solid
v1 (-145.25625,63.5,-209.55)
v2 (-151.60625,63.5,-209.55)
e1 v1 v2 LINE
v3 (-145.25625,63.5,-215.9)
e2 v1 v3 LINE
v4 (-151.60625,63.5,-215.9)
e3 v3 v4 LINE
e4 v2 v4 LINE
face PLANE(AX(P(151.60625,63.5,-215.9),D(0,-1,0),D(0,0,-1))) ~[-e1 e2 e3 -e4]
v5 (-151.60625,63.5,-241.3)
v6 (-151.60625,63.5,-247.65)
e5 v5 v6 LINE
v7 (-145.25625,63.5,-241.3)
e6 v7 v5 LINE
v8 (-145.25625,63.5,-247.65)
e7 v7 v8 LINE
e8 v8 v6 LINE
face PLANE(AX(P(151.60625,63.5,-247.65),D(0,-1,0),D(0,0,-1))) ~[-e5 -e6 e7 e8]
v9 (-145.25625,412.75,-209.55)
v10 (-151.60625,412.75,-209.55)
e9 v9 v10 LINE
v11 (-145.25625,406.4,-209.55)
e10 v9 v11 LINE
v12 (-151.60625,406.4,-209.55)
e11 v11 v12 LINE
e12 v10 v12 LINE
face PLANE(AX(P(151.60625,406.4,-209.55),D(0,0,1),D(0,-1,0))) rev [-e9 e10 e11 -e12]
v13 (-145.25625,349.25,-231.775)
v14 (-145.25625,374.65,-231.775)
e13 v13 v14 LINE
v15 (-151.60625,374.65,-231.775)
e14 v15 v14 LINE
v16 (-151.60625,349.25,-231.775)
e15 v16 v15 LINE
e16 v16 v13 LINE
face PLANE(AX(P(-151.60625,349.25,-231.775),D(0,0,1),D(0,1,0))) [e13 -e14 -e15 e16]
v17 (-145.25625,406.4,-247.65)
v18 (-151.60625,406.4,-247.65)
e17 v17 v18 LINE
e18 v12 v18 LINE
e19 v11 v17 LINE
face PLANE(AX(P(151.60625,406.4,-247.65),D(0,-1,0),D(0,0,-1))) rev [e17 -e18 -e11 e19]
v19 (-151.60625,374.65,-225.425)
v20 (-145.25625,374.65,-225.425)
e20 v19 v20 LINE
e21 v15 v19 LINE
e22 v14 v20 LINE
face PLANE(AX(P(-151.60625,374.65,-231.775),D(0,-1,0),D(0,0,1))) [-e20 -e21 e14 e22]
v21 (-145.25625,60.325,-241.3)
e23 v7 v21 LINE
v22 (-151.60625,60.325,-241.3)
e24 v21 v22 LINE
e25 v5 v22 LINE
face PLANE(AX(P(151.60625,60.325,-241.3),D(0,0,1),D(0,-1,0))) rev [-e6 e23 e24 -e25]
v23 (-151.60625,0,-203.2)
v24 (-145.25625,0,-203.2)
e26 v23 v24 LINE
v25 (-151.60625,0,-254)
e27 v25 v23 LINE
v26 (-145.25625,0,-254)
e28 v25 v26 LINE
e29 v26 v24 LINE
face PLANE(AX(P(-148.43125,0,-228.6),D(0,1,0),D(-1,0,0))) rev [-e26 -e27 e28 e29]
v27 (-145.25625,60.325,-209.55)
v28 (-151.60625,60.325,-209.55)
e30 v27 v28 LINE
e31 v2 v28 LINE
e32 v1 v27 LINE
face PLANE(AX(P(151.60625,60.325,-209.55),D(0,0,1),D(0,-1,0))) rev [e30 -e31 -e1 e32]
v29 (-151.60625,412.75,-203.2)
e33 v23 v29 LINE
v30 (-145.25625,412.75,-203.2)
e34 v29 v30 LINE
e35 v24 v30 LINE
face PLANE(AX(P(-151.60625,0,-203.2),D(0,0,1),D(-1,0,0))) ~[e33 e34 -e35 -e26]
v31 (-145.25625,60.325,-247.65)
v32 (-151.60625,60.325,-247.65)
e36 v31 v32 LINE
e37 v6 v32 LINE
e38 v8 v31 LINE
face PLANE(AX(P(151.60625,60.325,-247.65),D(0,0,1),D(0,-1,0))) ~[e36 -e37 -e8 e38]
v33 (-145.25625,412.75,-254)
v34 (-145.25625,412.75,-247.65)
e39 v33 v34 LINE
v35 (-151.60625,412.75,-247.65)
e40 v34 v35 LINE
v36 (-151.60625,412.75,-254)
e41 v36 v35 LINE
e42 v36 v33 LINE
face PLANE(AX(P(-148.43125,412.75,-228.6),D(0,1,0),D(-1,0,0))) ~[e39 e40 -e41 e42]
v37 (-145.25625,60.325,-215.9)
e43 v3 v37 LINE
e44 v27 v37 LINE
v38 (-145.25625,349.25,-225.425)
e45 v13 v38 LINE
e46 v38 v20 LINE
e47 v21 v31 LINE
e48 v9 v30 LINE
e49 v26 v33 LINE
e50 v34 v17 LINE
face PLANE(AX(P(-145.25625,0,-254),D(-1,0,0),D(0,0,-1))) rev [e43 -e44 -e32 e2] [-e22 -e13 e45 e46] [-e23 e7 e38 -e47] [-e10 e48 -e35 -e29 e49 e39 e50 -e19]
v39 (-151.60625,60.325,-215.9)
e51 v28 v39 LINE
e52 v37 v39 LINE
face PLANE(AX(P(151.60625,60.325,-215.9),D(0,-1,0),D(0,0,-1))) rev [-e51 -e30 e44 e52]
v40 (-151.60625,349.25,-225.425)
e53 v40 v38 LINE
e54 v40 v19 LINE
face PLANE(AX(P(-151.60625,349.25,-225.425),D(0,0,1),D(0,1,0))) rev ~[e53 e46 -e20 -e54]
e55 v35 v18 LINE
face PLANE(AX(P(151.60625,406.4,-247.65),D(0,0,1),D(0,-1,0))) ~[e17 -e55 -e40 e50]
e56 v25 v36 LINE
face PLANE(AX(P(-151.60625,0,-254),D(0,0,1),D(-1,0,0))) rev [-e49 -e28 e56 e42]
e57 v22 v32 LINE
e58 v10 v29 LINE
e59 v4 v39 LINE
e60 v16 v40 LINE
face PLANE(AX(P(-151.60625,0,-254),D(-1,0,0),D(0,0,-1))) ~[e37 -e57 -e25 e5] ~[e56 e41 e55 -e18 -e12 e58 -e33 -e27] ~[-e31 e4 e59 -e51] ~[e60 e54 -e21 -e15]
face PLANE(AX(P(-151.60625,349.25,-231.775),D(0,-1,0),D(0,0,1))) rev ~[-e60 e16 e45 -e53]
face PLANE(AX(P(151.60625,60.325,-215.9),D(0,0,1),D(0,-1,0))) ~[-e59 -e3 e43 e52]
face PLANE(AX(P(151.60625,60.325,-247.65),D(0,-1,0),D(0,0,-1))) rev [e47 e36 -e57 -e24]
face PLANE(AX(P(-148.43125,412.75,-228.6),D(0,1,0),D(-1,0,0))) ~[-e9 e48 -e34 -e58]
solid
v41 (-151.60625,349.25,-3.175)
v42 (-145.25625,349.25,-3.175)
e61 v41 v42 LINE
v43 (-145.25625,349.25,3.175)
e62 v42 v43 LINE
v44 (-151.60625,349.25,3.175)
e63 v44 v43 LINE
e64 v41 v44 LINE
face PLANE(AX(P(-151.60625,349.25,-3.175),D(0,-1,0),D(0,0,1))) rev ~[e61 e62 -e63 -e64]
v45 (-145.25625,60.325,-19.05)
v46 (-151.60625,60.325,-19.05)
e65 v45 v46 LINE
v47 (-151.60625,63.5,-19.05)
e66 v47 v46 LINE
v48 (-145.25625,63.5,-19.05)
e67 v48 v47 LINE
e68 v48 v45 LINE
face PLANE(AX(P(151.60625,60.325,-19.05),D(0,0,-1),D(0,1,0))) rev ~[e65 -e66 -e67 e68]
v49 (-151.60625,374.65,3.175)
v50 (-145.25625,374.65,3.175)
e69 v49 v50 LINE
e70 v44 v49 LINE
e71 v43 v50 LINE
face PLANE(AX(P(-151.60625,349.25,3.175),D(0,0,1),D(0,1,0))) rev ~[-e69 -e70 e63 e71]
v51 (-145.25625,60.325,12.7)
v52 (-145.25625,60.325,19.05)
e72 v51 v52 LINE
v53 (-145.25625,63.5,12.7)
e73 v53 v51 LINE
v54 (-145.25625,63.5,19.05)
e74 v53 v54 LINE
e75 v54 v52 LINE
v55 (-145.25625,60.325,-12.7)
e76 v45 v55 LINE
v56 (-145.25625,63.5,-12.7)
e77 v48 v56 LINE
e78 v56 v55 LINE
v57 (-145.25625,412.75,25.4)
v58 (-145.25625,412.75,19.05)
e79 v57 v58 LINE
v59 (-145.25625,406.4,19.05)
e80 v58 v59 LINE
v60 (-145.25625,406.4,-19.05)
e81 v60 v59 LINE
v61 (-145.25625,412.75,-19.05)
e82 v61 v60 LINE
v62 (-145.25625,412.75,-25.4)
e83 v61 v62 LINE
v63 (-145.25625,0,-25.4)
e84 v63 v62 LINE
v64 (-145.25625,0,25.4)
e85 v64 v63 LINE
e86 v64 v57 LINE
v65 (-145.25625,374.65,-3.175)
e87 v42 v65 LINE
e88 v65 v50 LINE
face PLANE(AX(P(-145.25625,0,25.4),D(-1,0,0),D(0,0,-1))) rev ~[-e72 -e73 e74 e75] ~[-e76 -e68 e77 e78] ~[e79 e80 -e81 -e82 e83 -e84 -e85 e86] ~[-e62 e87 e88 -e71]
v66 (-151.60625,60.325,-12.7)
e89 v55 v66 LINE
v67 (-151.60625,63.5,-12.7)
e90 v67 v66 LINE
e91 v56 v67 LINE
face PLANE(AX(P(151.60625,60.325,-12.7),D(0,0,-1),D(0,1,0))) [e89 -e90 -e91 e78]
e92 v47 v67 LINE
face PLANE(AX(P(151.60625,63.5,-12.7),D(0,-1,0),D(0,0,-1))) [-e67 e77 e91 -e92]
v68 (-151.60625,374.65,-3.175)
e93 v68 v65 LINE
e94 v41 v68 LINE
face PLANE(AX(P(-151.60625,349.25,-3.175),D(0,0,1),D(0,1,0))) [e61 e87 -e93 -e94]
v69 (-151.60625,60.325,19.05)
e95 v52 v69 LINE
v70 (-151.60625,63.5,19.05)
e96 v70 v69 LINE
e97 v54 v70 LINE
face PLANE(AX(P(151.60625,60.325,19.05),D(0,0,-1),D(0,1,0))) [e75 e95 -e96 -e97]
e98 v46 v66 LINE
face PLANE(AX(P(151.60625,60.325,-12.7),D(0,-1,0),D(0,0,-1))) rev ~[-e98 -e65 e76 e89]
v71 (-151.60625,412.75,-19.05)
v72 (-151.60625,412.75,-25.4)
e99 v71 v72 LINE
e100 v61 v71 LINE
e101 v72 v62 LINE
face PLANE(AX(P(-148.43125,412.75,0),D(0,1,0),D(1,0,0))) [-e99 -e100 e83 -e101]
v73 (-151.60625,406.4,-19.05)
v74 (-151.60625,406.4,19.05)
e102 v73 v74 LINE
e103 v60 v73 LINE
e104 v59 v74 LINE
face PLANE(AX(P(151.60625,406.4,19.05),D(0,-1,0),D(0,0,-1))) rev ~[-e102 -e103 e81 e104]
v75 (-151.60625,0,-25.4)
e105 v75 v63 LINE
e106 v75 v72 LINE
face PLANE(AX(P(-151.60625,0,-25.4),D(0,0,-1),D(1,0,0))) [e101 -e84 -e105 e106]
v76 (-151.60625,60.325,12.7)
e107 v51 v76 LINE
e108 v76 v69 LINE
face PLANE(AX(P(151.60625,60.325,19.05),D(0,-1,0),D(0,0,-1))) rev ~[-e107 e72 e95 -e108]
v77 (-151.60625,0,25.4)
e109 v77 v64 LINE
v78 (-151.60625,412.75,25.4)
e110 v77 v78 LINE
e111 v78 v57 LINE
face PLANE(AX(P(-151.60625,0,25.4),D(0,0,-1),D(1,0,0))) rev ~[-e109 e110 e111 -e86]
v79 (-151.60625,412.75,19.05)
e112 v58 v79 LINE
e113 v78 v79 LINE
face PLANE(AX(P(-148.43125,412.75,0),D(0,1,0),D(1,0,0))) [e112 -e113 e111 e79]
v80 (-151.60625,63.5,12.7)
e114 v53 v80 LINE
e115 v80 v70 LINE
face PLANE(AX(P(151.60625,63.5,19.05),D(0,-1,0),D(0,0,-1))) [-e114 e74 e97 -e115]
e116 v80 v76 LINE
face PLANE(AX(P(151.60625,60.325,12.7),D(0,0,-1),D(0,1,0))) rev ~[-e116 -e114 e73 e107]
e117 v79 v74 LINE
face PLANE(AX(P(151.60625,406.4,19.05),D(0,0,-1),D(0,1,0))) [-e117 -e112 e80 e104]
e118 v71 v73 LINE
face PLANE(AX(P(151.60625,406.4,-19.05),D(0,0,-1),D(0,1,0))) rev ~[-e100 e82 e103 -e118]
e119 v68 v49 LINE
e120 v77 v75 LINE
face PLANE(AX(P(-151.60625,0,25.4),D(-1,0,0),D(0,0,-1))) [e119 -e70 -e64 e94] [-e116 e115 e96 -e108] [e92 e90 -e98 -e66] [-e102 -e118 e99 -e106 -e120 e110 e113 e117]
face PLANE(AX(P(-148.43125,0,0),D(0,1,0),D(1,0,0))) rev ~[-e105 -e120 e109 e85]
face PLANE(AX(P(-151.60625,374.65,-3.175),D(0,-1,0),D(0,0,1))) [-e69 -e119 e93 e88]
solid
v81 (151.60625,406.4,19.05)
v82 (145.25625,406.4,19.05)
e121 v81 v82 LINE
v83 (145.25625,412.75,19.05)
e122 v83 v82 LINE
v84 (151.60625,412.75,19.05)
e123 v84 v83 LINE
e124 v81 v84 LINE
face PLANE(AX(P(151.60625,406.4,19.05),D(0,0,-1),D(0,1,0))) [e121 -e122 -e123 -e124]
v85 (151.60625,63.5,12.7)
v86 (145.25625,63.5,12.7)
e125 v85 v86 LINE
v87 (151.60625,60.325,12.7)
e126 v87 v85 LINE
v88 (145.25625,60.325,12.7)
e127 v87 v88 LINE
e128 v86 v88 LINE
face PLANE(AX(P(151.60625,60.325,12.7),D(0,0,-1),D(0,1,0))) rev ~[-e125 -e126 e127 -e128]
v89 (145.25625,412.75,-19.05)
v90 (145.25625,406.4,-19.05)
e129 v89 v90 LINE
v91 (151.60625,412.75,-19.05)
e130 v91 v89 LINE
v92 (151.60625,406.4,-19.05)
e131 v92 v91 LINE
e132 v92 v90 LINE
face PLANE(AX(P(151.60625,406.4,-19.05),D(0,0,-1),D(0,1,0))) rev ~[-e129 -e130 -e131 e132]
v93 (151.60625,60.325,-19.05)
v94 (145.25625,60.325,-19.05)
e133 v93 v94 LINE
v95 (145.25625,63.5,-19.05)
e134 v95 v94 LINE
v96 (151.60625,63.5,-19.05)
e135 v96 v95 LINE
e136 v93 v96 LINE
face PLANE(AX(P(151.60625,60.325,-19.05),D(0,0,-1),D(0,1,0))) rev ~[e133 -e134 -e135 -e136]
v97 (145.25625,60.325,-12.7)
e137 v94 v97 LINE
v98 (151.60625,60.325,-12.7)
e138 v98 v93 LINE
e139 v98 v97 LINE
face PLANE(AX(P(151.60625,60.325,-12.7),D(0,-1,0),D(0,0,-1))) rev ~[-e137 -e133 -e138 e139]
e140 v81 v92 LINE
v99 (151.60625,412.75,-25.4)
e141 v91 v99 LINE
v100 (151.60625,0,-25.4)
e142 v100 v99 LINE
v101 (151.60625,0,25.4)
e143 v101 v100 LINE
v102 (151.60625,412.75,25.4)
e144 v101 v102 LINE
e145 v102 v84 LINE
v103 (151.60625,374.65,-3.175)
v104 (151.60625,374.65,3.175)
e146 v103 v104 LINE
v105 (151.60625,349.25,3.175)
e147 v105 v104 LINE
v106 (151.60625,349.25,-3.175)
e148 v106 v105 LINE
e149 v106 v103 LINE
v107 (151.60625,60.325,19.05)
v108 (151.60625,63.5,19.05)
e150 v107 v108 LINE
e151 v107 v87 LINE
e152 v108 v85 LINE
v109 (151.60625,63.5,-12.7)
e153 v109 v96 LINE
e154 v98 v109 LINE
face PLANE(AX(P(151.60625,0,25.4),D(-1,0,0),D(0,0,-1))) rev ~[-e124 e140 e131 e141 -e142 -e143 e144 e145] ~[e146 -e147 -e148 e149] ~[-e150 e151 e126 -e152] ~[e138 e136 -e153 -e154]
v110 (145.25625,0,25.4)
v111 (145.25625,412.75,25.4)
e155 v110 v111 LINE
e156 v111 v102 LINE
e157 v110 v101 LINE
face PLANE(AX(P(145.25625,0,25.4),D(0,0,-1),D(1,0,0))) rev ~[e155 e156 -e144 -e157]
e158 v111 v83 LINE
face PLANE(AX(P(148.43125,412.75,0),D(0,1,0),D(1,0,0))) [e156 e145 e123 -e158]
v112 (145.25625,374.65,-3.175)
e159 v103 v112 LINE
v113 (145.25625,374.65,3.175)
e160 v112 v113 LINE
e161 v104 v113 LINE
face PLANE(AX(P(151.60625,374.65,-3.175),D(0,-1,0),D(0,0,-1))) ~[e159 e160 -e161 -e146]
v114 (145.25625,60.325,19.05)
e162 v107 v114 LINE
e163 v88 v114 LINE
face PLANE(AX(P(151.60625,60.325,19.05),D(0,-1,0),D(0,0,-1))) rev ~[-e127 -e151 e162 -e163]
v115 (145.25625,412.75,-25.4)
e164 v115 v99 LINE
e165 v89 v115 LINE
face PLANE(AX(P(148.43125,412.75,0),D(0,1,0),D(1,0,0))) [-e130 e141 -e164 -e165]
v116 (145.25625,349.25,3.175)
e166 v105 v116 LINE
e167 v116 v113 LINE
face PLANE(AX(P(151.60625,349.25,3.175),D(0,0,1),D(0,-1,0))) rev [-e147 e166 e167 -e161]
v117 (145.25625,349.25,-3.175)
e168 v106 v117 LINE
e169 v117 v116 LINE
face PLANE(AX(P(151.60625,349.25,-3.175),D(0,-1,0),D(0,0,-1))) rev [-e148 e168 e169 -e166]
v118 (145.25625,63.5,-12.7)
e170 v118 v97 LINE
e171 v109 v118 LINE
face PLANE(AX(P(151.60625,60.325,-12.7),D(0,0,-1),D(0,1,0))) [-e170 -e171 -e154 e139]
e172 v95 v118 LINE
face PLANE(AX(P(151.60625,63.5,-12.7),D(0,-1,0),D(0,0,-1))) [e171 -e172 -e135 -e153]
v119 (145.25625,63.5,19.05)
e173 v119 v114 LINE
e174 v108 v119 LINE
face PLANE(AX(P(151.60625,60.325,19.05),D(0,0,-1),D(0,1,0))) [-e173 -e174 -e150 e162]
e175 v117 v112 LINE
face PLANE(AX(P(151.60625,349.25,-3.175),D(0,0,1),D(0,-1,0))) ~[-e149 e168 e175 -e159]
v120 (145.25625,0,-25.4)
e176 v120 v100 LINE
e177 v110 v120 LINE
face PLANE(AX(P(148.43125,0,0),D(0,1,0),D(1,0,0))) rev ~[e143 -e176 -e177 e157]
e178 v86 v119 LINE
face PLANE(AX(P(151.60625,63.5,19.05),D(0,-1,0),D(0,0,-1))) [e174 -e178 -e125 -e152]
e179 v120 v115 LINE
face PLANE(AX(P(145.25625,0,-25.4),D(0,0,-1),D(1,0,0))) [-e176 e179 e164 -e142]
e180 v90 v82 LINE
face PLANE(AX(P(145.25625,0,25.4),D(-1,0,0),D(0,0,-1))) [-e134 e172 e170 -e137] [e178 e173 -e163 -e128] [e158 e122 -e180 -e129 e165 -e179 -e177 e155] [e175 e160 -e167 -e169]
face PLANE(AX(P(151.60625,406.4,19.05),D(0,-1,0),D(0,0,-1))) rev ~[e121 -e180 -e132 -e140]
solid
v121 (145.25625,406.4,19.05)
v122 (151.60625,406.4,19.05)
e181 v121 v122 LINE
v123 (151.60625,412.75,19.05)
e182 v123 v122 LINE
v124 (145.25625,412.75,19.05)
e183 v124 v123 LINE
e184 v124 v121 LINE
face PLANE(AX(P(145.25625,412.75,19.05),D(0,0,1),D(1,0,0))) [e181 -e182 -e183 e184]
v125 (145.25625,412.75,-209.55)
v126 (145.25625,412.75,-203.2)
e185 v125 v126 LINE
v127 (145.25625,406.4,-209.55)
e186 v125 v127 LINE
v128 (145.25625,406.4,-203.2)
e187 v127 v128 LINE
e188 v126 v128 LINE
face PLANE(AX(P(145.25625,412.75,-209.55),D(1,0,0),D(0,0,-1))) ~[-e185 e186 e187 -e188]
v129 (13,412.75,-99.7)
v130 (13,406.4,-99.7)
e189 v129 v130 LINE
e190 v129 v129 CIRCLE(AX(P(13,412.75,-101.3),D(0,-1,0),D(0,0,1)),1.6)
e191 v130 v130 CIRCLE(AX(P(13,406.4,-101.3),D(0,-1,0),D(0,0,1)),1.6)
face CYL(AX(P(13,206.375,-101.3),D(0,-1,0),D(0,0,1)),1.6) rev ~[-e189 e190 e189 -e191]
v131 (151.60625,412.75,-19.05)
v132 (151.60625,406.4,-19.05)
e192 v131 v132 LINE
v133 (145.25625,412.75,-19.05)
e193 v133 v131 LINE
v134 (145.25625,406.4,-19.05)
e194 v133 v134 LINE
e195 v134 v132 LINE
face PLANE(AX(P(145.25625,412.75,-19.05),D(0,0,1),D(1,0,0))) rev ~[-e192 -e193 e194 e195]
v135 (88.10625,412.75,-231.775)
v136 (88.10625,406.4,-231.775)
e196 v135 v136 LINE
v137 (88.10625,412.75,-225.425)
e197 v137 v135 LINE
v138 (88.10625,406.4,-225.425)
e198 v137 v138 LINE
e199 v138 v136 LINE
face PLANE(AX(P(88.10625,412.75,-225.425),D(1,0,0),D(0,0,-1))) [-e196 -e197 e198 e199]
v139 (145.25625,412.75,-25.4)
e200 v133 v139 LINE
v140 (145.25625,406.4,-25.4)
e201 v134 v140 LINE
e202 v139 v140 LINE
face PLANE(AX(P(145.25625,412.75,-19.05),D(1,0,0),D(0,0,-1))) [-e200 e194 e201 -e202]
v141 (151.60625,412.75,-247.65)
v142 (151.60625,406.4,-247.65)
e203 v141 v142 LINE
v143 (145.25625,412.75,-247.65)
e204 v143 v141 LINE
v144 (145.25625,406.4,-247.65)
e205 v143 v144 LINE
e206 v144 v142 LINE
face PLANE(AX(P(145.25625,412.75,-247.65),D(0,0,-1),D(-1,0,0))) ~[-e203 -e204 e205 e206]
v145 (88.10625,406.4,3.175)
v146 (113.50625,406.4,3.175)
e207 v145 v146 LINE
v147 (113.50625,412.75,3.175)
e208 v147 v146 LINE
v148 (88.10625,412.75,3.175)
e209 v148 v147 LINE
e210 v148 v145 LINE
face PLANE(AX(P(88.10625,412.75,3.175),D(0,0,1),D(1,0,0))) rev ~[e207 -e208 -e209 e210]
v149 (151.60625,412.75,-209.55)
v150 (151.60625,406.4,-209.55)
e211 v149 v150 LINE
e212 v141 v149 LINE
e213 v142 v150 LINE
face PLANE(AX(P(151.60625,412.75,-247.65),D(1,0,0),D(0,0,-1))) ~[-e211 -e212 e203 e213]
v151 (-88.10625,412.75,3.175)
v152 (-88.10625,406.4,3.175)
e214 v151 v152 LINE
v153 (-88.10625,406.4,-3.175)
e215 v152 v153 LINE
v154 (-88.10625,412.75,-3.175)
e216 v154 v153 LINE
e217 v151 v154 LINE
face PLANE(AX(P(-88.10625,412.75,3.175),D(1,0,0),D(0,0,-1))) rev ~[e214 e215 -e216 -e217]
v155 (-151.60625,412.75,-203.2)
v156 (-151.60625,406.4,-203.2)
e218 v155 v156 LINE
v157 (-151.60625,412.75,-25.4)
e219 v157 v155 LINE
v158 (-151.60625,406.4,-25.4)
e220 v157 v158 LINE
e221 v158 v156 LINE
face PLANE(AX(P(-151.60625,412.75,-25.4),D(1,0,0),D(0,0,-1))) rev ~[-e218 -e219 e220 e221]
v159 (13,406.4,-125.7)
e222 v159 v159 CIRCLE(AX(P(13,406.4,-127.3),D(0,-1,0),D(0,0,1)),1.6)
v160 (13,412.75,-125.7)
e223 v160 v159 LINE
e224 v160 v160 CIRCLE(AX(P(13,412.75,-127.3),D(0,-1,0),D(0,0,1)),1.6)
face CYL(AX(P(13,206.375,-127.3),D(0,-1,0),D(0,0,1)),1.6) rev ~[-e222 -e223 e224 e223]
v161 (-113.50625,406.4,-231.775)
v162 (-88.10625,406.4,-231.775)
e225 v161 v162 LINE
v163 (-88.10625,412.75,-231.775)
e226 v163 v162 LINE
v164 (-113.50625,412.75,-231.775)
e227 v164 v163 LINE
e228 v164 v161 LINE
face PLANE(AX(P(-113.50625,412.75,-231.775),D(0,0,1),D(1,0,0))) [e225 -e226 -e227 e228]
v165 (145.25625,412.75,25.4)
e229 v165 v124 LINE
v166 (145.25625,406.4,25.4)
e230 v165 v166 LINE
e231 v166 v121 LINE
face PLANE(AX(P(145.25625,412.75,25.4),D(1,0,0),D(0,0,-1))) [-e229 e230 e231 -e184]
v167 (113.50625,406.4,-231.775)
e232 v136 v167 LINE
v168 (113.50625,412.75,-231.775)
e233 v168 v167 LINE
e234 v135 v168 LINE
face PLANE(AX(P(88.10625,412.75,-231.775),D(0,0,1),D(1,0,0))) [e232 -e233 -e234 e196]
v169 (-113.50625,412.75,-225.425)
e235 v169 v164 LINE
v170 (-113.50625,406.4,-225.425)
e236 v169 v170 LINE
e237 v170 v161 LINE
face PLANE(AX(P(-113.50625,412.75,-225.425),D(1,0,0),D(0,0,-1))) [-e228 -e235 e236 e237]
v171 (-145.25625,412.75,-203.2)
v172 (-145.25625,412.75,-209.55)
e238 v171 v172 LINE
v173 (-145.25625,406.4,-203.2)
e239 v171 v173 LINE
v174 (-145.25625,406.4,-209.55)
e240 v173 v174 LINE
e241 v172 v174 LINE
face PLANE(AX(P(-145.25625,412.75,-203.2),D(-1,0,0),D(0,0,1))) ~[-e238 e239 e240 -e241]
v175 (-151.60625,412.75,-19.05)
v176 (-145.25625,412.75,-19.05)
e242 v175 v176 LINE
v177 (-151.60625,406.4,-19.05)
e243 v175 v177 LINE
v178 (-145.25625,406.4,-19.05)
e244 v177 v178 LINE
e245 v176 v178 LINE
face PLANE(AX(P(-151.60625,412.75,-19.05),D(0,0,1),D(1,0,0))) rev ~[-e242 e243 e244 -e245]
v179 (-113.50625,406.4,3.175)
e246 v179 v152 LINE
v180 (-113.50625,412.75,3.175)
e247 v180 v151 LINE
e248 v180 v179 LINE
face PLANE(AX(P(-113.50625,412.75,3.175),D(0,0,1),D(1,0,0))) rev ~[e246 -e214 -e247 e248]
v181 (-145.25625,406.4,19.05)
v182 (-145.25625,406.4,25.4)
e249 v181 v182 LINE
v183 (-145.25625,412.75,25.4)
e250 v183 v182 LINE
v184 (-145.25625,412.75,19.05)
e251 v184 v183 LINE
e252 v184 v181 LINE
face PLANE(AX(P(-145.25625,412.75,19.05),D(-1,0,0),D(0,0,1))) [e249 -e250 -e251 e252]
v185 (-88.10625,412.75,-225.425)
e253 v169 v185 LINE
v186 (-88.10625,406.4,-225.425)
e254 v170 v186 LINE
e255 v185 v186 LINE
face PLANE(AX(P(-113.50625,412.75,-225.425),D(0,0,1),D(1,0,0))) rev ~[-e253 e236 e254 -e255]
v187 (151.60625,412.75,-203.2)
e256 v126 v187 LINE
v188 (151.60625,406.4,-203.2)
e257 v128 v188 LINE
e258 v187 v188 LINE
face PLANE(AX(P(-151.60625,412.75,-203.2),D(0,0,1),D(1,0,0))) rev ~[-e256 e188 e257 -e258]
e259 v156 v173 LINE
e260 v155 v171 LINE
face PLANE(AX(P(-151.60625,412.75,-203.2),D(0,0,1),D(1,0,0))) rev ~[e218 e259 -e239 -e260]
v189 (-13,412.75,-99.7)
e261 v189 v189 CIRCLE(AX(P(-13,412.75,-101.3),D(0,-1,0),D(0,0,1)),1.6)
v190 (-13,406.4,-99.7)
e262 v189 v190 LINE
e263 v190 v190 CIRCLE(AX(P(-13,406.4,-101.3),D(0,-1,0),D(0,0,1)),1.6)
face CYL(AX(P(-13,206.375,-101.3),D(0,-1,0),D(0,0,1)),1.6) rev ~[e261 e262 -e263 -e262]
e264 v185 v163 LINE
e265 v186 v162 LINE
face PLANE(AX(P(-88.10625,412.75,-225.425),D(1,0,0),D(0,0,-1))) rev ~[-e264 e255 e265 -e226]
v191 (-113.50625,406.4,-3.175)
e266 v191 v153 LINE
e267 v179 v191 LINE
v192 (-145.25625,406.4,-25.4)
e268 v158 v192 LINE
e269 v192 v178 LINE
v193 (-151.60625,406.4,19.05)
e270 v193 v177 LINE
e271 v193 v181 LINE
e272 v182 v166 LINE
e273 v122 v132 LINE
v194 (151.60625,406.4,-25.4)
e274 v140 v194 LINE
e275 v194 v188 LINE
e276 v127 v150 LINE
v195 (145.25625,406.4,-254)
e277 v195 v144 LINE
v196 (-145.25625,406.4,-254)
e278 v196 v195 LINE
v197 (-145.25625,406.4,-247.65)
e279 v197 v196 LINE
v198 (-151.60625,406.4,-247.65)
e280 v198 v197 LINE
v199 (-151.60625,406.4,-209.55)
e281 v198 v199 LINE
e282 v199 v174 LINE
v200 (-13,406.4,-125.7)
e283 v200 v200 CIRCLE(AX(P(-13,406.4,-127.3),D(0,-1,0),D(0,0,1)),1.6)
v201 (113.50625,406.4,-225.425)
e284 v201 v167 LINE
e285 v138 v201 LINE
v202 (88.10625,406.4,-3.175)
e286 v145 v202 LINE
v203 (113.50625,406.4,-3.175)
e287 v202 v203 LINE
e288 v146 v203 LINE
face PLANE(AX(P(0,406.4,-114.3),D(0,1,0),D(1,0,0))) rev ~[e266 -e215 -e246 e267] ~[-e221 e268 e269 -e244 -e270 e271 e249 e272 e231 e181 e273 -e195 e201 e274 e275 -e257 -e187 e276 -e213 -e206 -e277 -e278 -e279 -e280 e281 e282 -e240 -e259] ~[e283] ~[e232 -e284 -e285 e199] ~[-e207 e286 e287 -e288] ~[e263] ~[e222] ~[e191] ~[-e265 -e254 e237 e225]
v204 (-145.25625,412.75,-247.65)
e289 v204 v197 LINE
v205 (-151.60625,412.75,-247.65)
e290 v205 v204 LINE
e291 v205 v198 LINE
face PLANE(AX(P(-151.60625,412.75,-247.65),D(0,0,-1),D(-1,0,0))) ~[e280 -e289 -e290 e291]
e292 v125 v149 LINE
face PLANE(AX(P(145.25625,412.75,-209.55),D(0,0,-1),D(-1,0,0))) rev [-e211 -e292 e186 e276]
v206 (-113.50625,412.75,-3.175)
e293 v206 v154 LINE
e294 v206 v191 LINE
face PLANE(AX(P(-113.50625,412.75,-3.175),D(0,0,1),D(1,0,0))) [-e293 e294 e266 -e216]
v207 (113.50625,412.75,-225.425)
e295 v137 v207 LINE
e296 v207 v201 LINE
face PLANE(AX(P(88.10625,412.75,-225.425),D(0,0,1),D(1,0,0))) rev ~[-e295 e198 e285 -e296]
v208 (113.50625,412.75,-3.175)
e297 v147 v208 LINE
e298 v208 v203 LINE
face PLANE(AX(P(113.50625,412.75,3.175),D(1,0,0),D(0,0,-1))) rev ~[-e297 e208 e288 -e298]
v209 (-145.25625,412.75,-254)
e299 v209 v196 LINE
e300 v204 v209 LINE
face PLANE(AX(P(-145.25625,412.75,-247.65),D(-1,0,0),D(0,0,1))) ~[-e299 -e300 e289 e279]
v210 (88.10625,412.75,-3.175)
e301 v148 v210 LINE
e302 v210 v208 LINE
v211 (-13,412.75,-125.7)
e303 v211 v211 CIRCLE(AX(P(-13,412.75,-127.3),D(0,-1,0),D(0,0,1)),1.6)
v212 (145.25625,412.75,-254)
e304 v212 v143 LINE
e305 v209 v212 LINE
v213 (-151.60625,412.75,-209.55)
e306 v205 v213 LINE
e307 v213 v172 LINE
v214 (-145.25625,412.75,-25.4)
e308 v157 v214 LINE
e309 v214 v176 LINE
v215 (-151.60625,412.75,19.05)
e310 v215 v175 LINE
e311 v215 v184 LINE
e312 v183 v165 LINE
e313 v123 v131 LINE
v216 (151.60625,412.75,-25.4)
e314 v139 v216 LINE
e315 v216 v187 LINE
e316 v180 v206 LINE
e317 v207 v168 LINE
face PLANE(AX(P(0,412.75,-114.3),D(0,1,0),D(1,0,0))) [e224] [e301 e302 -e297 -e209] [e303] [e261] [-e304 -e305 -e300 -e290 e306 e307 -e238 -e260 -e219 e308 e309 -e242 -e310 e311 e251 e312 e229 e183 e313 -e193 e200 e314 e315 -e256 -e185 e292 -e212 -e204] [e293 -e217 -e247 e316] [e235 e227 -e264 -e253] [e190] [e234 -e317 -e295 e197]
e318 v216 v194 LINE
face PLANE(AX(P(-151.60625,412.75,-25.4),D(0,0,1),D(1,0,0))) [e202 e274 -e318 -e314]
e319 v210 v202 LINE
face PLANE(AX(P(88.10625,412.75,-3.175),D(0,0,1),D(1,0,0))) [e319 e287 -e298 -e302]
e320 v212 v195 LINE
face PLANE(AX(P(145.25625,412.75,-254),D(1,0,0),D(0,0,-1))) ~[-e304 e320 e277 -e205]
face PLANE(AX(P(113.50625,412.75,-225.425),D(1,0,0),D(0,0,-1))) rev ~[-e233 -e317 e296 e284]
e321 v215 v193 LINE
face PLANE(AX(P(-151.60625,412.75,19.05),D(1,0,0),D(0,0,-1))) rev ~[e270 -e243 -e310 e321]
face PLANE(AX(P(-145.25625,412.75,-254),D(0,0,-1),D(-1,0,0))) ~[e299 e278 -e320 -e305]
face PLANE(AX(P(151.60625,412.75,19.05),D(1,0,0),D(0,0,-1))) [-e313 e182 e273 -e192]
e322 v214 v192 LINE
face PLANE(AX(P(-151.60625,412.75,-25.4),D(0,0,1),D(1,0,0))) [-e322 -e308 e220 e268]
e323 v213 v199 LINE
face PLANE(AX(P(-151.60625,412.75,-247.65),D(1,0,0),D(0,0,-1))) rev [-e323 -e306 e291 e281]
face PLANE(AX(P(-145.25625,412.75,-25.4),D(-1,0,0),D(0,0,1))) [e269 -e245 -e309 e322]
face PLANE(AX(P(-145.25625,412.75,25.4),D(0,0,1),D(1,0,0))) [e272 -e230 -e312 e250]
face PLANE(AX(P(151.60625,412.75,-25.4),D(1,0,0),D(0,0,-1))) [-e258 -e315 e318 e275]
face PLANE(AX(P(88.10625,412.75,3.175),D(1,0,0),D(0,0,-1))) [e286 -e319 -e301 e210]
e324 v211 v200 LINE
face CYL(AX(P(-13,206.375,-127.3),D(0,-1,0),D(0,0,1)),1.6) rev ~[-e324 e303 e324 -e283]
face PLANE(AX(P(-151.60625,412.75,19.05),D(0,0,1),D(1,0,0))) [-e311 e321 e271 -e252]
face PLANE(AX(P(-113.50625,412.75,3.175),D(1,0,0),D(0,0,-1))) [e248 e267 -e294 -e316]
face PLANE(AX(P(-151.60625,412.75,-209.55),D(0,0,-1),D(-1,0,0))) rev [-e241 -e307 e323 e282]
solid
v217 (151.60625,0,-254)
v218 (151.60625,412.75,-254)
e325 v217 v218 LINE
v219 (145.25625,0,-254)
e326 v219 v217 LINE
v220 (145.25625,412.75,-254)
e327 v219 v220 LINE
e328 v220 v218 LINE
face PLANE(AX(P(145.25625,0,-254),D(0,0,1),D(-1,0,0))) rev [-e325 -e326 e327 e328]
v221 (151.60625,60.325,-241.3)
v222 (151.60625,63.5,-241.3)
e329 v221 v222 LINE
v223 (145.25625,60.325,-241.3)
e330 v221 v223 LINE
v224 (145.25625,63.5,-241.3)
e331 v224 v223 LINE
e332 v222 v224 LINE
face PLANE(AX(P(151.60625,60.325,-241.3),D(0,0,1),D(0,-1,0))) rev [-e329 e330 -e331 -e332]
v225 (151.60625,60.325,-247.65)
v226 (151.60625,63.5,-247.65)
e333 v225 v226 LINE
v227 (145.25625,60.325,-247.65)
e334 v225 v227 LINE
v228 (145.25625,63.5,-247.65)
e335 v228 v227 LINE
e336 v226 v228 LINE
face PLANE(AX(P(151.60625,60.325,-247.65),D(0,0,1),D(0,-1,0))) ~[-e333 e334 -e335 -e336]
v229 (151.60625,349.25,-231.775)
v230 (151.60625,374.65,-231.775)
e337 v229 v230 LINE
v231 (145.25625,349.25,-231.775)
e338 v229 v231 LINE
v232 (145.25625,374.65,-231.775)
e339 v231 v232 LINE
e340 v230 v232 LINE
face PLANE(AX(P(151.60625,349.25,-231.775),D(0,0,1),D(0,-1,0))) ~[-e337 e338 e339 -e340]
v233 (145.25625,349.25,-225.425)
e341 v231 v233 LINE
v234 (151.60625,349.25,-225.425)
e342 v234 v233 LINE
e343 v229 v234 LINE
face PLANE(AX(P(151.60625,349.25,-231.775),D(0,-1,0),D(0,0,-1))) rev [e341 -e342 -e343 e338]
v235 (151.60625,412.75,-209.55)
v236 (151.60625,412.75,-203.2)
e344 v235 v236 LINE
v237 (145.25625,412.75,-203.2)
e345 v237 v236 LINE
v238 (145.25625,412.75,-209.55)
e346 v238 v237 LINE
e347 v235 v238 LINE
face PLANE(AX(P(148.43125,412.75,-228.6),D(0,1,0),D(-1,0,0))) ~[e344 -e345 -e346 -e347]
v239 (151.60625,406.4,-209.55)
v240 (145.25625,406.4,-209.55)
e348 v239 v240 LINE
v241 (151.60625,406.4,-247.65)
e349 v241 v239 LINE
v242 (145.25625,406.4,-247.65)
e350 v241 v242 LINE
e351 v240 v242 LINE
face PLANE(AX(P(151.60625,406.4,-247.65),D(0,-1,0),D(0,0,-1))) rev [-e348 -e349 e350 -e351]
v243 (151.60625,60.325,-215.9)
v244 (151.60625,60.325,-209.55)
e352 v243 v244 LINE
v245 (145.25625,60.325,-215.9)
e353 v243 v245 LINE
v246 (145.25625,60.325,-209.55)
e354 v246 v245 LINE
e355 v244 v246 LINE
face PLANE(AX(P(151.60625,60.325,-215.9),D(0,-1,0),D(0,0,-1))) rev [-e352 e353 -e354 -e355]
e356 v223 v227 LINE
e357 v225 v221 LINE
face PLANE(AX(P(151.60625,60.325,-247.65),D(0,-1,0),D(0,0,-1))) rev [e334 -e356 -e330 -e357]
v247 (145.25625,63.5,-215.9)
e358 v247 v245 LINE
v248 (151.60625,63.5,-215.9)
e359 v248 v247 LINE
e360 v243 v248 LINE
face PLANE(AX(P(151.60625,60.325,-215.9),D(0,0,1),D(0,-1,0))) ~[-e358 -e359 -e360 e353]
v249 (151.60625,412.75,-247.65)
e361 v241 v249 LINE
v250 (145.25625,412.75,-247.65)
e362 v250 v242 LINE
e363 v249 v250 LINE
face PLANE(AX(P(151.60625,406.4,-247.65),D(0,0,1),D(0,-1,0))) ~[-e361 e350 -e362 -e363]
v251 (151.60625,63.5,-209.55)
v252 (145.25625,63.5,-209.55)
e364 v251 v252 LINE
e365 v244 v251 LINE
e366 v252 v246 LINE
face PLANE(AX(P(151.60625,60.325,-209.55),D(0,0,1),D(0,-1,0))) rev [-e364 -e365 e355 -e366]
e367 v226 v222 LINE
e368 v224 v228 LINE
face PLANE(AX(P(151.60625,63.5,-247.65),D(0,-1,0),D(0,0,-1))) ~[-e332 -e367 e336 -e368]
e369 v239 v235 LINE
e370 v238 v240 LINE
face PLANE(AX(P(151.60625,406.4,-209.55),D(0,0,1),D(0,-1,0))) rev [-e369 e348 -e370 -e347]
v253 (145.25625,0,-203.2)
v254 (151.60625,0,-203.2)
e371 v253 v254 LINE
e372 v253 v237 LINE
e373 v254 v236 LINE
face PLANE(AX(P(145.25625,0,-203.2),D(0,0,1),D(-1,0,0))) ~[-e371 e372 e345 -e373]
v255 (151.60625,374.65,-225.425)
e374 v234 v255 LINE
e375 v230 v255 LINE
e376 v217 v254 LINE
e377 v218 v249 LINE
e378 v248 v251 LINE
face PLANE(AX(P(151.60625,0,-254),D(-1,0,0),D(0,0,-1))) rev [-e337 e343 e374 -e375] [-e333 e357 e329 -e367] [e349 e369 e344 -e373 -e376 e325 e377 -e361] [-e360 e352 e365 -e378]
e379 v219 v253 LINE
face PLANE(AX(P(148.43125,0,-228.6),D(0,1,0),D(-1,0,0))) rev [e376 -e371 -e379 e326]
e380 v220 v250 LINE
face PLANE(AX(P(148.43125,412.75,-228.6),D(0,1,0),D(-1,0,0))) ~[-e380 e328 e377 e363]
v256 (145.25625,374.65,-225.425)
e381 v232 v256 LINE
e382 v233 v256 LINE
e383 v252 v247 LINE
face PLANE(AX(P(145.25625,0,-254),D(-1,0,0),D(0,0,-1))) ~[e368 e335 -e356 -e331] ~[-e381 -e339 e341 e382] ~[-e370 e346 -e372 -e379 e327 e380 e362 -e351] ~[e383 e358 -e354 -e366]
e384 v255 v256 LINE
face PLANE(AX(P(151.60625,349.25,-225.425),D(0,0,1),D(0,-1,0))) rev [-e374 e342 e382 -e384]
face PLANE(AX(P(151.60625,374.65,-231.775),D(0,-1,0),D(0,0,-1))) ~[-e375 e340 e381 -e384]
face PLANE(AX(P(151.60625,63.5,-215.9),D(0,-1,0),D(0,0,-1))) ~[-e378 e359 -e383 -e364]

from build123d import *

# Parameters (mm, degrees)
SKETCH1_W                     = 6.35
SKETCH1_H                     = 50.8
BOSS_EXTRUDE1_DEPTH           = 412.75
BOSS_EXTRUDE1_2_DEPTH         = 412.75
SKETCH3_W                     = 38.1
SKETCH3_H                     = 6.35
SKETCH3_W_2                   = 6.35
SKETCH3_H_2                   = 3.175
CUT_EXTRUDE1_DEPTH            = 513.782159066
SKETCH4_W                     = 6.35
SKETCH4_H                     = 38.1
BOSS_EXTRUDE2_DEPTH           = 6.35
SKETCH8_W                     = 303.2125
SKETCH8_H                     = 177.8
BOSS_EXTRUDE5_DEPTH           = 6.35
SKETCH11_W                    = 1.6
SKETCH11_H                    = 412.75
M3_CLEARANCE_HOLE1_AT_2_COUNT = 2
M3_CLEARANCE_HOLE1_AT_2_PITCH = 26
M3_CLEARANCE_HOLE1_AT_3_COUNT = 2
M3_CLEARANCE_HOLE1_AT_3_PITCH = 36.769552622
M3_CLEARANCE_HOLE1_AT_4_COUNT = 2
M3_CLEARANCE_HOLE1_AT_4_PITCH = 26
SKETCH12_W                    = 25.4
SKETCH12_H                    = 6.35
CUT_EXTRUDE2_DEPTH            = 6.35
SKETCH13_W                    = 6.35
SKETCH13_H                    = 25.4
CUT_EXTRUDE3_DEPTH            = 6.35


with BuildPart() as part:
    # Sketch1 → Boss-Extrude1 (new body)
    with BuildSketch(Plane(origin=(0, 0, 0), x_dir=(1, 0, 0), z_dir=(0, 1, 0))):
        with Locations((-148.43125, 0)):
            Rectangle(SKETCH1_W, SKETCH1_H)
    extrude(amount=BOSS_EXTRUDE1_DEPTH)


with BuildPart() as body_2:
    # Sketch1 → Boss-Extrude1 2 (new body)
    with BuildSketch(Plane(origin=(0, 0, 0), x_dir=(1, 0, 0), z_dir=(0, 1, 0))):
        with Locations((148.43125, 0)):
            Rectangle(SKETCH1_W, SKETCH1_H)
    extrude(amount=BOSS_EXTRUDE1_2_DEPTH)


with BuildPart() as cut_extrude1_tool:
    # Sketch3 → Cut-Extrude1 (new, through all)
    with BuildSketch(Plane(origin=(151.60625, 0, 0), x_dir=(0, 0, -1), z_dir=(1, 0, 0))):
        with Locations((0, 409.575)):
            Rectangle(SKETCH3_W, SKETCH3_H)
        with Locations((15.875, 61.9125)):
            Rectangle(SKETCH3_W_2, SKETCH3_H_2)
        with Locations((-15.875, 61.9125)):
            Rectangle(SKETCH3_W_2, SKETCH3_H_2)
    extrude(amount=-CUT_EXTRUDE1_DEPTH)


with BuildPart() as part_1:
    add(part.part)

    # Cut-Extrude1: cut by cut_extrude1_tool
    add(cut_extrude1_tool.part, mode=Mode.SUBTRACT)


with BuildPart() as body_2_1:
    add(body_2.part)

    # Cut-Extrude1: cut by cut_extrude1_tool
    add(cut_extrude1_tool.part, mode=Mode.SUBTRACT)


with BuildPart() as body_3:
    # Sketch4 → Boss-Extrude2 (new body)
    with BuildSketch(Plane(origin=(0, 412.75, 0), x_dir=(1, 0, 0), z_dir=(0, 1, 0))):
        with Locations((-148.43125, 0)):
            Rectangle(SKETCH4_W, SKETCH4_H)
        Polygon((-145.25625, 25.4), (-145.25625, 19.05), (-145.25625, -19.05), (-145.25625, -25.4), (145.25625, -25.4), (145.25625, -19.05), (145.25625, 19.05), (145.25625, 25.4), align=None)
        with Locations((148.43125, 0)):
            Rectangle(SKETCH4_W, SKETCH4_H)
    extrude(amount=-BOSS_EXTRUDE2_DEPTH)


with BuildPart() as body_4:
    # Mirror6: mirrored copy
    add(body_3.part.mirror(Plane(origin=(0, 0, -114.3), x_dir=(1, 0, 0), z_dir=(0, 0, -1))))


    add(body_3.part)  # Boss-Extrude5 merges body 3
    # Sketch8 → Boss-Extrude5 (add)
    with BuildSketch(Plane(origin=(0, 412.75, 0), x_dir=(1, 0, 0), z_dir=(0, 1, 0))):
        with Locations((0, 114.3)):
            Rectangle(SKETCH8_W, SKETCH8_H)
    extrude(amount=-BOSS_EXTRUDE5_DEPTH)

    # Sketch11 → M3 Clearance Hole1 (revolve, cut)
    with BuildSketch(Plane(origin=(-13, 412.75, -101.3), x_dir=(0, 0, 1), z_dir=(1, 0, 0))):
        with Locations((0.8, 206.375)):
            Rectangle(SKETCH11_W, SKETCH11_H)
    m3_clearance_hole1 = revolve(axis=Axis((-13, 419.1, -101.3), (0, -1, 0)), mode=Mode.SUBTRACT)

    # M3 Clearance Hole1 at 2: M3 Clearance Hole1 ×2
    with Locations(*[(0, 0, -i * M3_CLEARANCE_HOLE1_AT_2_PITCH) for i in range(1, M3_CLEARANCE_HOLE1_AT_2_COUNT)]):
        add(m3_clearance_hole1, mode=Mode.SUBTRACT)

    # M3 Clearance Hole1 at 3: M3 Clearance Hole1 ×2
    with Locations(*[Vector(0.7071067811865476, 0, -0.7071067811865476) * (i * M3_CLEARANCE_HOLE1_AT_3_PITCH) for i in range(1, M3_CLEARANCE_HOLE1_AT_3_COUNT)]):
        add(m3_clearance_hole1, mode=Mode.SUBTRACT)

    # M3 Clearance Hole1 at 4: M3 Clearance Hole1 ×2
    with Locations(*[(i * M3_CLEARANCE_HOLE1_AT_4_PITCH, 0, 0) for i in range(1, M3_CLEARANCE_HOLE1_AT_4_COUNT)]):
        add(m3_clearance_hole1, mode=Mode.SUBTRACT)

    # Sketch12 → Cut-Extrude2 (cut)
    with BuildSketch(Plane(origin=(0, 412.75, 0), x_dir=(1, 0, 0), z_dir=(0, 1, 0))):
        with Locations((-100.80625, 0)):
            Rectangle(SKETCH12_W, SKETCH12_H)
        with Locations((100.80625, 0)):
            Rectangle(SKETCH12_W, SKETCH12_H)
        with Locations((100.80625, 228.6)):
            Rectangle(SKETCH12_W, SKETCH12_H)
        with Locations((-100.80625, 228.6)):
            Rectangle(SKETCH12_W, SKETCH12_H)
    extrude(amount=-CUT_EXTRUDE2_DEPTH, mode=Mode.SUBTRACT)


with BuildPart() as body_5:
    # Mirror6 2: mirrored copy
    add(body_2_1.part.mirror(Plane(origin=(0, 0, -114.3), x_dir=(1, 0, 0), z_dir=(0, 0, -1))))


with BuildPart() as body_6:
    # Mirror6 3: mirrored copy
    add(part_1.part.mirror(Plane(origin=(0, 0, -114.3), x_dir=(1, 0, 0), z_dir=(0, 0, -1))))


with BuildPart() as cut_extrude3_tool:
    # Sketch13 → Cut-Extrude3 (new body)
    with BuildSketch(Plane.ZY.offset(151.60625)):
        with Locations((-228.6, 361.95)):
            Rectangle(SKETCH13_W, SKETCH13_H)
        with Locations((0, 361.95)):
            Rectangle(SKETCH13_W, SKETCH13_H)
    cut_extrude3 = extrude(amount=-CUT_EXTRUDE3_DEPTH)


with BuildPart() as part_2:
    add(part_1.part)

    # Cut-Extrude3: cut by cut_extrude3_tool
    add(cut_extrude3_tool.part, mode=Mode.SUBTRACT)


with BuildPart() as body_6_1:
    add(body_6.part)

    # Cut-Extrude3: cut by cut_extrude3_tool
    add(cut_extrude3_tool.part, mode=Mode.SUBTRACT)


with BuildPart() as mirror7_tool:
    # Mirror7: Cut-Extrude3 across plane
    add(cut_extrude3.mirror(Plane(origin=(0, 0, 0), x_dir=(0, 0, 1), z_dir=(1, 0, 0))))


with BuildPart() as body_2_2:
    add(body_2_1.part)

    # Mirror7: cut by mirror7_tool
    add(mirror7_tool.part, mode=Mode.SUBTRACT)


with BuildPart() as body_5_1:
    add(body_5.part)

    # Mirror7: cut by mirror7_tool
    add(mirror7_tool.part, mode=Mode.SUBTRACT)


solid = Compound([body_4.part, part_2.part, body_6_1.part, body_2_2.part, body_5_1.part])
